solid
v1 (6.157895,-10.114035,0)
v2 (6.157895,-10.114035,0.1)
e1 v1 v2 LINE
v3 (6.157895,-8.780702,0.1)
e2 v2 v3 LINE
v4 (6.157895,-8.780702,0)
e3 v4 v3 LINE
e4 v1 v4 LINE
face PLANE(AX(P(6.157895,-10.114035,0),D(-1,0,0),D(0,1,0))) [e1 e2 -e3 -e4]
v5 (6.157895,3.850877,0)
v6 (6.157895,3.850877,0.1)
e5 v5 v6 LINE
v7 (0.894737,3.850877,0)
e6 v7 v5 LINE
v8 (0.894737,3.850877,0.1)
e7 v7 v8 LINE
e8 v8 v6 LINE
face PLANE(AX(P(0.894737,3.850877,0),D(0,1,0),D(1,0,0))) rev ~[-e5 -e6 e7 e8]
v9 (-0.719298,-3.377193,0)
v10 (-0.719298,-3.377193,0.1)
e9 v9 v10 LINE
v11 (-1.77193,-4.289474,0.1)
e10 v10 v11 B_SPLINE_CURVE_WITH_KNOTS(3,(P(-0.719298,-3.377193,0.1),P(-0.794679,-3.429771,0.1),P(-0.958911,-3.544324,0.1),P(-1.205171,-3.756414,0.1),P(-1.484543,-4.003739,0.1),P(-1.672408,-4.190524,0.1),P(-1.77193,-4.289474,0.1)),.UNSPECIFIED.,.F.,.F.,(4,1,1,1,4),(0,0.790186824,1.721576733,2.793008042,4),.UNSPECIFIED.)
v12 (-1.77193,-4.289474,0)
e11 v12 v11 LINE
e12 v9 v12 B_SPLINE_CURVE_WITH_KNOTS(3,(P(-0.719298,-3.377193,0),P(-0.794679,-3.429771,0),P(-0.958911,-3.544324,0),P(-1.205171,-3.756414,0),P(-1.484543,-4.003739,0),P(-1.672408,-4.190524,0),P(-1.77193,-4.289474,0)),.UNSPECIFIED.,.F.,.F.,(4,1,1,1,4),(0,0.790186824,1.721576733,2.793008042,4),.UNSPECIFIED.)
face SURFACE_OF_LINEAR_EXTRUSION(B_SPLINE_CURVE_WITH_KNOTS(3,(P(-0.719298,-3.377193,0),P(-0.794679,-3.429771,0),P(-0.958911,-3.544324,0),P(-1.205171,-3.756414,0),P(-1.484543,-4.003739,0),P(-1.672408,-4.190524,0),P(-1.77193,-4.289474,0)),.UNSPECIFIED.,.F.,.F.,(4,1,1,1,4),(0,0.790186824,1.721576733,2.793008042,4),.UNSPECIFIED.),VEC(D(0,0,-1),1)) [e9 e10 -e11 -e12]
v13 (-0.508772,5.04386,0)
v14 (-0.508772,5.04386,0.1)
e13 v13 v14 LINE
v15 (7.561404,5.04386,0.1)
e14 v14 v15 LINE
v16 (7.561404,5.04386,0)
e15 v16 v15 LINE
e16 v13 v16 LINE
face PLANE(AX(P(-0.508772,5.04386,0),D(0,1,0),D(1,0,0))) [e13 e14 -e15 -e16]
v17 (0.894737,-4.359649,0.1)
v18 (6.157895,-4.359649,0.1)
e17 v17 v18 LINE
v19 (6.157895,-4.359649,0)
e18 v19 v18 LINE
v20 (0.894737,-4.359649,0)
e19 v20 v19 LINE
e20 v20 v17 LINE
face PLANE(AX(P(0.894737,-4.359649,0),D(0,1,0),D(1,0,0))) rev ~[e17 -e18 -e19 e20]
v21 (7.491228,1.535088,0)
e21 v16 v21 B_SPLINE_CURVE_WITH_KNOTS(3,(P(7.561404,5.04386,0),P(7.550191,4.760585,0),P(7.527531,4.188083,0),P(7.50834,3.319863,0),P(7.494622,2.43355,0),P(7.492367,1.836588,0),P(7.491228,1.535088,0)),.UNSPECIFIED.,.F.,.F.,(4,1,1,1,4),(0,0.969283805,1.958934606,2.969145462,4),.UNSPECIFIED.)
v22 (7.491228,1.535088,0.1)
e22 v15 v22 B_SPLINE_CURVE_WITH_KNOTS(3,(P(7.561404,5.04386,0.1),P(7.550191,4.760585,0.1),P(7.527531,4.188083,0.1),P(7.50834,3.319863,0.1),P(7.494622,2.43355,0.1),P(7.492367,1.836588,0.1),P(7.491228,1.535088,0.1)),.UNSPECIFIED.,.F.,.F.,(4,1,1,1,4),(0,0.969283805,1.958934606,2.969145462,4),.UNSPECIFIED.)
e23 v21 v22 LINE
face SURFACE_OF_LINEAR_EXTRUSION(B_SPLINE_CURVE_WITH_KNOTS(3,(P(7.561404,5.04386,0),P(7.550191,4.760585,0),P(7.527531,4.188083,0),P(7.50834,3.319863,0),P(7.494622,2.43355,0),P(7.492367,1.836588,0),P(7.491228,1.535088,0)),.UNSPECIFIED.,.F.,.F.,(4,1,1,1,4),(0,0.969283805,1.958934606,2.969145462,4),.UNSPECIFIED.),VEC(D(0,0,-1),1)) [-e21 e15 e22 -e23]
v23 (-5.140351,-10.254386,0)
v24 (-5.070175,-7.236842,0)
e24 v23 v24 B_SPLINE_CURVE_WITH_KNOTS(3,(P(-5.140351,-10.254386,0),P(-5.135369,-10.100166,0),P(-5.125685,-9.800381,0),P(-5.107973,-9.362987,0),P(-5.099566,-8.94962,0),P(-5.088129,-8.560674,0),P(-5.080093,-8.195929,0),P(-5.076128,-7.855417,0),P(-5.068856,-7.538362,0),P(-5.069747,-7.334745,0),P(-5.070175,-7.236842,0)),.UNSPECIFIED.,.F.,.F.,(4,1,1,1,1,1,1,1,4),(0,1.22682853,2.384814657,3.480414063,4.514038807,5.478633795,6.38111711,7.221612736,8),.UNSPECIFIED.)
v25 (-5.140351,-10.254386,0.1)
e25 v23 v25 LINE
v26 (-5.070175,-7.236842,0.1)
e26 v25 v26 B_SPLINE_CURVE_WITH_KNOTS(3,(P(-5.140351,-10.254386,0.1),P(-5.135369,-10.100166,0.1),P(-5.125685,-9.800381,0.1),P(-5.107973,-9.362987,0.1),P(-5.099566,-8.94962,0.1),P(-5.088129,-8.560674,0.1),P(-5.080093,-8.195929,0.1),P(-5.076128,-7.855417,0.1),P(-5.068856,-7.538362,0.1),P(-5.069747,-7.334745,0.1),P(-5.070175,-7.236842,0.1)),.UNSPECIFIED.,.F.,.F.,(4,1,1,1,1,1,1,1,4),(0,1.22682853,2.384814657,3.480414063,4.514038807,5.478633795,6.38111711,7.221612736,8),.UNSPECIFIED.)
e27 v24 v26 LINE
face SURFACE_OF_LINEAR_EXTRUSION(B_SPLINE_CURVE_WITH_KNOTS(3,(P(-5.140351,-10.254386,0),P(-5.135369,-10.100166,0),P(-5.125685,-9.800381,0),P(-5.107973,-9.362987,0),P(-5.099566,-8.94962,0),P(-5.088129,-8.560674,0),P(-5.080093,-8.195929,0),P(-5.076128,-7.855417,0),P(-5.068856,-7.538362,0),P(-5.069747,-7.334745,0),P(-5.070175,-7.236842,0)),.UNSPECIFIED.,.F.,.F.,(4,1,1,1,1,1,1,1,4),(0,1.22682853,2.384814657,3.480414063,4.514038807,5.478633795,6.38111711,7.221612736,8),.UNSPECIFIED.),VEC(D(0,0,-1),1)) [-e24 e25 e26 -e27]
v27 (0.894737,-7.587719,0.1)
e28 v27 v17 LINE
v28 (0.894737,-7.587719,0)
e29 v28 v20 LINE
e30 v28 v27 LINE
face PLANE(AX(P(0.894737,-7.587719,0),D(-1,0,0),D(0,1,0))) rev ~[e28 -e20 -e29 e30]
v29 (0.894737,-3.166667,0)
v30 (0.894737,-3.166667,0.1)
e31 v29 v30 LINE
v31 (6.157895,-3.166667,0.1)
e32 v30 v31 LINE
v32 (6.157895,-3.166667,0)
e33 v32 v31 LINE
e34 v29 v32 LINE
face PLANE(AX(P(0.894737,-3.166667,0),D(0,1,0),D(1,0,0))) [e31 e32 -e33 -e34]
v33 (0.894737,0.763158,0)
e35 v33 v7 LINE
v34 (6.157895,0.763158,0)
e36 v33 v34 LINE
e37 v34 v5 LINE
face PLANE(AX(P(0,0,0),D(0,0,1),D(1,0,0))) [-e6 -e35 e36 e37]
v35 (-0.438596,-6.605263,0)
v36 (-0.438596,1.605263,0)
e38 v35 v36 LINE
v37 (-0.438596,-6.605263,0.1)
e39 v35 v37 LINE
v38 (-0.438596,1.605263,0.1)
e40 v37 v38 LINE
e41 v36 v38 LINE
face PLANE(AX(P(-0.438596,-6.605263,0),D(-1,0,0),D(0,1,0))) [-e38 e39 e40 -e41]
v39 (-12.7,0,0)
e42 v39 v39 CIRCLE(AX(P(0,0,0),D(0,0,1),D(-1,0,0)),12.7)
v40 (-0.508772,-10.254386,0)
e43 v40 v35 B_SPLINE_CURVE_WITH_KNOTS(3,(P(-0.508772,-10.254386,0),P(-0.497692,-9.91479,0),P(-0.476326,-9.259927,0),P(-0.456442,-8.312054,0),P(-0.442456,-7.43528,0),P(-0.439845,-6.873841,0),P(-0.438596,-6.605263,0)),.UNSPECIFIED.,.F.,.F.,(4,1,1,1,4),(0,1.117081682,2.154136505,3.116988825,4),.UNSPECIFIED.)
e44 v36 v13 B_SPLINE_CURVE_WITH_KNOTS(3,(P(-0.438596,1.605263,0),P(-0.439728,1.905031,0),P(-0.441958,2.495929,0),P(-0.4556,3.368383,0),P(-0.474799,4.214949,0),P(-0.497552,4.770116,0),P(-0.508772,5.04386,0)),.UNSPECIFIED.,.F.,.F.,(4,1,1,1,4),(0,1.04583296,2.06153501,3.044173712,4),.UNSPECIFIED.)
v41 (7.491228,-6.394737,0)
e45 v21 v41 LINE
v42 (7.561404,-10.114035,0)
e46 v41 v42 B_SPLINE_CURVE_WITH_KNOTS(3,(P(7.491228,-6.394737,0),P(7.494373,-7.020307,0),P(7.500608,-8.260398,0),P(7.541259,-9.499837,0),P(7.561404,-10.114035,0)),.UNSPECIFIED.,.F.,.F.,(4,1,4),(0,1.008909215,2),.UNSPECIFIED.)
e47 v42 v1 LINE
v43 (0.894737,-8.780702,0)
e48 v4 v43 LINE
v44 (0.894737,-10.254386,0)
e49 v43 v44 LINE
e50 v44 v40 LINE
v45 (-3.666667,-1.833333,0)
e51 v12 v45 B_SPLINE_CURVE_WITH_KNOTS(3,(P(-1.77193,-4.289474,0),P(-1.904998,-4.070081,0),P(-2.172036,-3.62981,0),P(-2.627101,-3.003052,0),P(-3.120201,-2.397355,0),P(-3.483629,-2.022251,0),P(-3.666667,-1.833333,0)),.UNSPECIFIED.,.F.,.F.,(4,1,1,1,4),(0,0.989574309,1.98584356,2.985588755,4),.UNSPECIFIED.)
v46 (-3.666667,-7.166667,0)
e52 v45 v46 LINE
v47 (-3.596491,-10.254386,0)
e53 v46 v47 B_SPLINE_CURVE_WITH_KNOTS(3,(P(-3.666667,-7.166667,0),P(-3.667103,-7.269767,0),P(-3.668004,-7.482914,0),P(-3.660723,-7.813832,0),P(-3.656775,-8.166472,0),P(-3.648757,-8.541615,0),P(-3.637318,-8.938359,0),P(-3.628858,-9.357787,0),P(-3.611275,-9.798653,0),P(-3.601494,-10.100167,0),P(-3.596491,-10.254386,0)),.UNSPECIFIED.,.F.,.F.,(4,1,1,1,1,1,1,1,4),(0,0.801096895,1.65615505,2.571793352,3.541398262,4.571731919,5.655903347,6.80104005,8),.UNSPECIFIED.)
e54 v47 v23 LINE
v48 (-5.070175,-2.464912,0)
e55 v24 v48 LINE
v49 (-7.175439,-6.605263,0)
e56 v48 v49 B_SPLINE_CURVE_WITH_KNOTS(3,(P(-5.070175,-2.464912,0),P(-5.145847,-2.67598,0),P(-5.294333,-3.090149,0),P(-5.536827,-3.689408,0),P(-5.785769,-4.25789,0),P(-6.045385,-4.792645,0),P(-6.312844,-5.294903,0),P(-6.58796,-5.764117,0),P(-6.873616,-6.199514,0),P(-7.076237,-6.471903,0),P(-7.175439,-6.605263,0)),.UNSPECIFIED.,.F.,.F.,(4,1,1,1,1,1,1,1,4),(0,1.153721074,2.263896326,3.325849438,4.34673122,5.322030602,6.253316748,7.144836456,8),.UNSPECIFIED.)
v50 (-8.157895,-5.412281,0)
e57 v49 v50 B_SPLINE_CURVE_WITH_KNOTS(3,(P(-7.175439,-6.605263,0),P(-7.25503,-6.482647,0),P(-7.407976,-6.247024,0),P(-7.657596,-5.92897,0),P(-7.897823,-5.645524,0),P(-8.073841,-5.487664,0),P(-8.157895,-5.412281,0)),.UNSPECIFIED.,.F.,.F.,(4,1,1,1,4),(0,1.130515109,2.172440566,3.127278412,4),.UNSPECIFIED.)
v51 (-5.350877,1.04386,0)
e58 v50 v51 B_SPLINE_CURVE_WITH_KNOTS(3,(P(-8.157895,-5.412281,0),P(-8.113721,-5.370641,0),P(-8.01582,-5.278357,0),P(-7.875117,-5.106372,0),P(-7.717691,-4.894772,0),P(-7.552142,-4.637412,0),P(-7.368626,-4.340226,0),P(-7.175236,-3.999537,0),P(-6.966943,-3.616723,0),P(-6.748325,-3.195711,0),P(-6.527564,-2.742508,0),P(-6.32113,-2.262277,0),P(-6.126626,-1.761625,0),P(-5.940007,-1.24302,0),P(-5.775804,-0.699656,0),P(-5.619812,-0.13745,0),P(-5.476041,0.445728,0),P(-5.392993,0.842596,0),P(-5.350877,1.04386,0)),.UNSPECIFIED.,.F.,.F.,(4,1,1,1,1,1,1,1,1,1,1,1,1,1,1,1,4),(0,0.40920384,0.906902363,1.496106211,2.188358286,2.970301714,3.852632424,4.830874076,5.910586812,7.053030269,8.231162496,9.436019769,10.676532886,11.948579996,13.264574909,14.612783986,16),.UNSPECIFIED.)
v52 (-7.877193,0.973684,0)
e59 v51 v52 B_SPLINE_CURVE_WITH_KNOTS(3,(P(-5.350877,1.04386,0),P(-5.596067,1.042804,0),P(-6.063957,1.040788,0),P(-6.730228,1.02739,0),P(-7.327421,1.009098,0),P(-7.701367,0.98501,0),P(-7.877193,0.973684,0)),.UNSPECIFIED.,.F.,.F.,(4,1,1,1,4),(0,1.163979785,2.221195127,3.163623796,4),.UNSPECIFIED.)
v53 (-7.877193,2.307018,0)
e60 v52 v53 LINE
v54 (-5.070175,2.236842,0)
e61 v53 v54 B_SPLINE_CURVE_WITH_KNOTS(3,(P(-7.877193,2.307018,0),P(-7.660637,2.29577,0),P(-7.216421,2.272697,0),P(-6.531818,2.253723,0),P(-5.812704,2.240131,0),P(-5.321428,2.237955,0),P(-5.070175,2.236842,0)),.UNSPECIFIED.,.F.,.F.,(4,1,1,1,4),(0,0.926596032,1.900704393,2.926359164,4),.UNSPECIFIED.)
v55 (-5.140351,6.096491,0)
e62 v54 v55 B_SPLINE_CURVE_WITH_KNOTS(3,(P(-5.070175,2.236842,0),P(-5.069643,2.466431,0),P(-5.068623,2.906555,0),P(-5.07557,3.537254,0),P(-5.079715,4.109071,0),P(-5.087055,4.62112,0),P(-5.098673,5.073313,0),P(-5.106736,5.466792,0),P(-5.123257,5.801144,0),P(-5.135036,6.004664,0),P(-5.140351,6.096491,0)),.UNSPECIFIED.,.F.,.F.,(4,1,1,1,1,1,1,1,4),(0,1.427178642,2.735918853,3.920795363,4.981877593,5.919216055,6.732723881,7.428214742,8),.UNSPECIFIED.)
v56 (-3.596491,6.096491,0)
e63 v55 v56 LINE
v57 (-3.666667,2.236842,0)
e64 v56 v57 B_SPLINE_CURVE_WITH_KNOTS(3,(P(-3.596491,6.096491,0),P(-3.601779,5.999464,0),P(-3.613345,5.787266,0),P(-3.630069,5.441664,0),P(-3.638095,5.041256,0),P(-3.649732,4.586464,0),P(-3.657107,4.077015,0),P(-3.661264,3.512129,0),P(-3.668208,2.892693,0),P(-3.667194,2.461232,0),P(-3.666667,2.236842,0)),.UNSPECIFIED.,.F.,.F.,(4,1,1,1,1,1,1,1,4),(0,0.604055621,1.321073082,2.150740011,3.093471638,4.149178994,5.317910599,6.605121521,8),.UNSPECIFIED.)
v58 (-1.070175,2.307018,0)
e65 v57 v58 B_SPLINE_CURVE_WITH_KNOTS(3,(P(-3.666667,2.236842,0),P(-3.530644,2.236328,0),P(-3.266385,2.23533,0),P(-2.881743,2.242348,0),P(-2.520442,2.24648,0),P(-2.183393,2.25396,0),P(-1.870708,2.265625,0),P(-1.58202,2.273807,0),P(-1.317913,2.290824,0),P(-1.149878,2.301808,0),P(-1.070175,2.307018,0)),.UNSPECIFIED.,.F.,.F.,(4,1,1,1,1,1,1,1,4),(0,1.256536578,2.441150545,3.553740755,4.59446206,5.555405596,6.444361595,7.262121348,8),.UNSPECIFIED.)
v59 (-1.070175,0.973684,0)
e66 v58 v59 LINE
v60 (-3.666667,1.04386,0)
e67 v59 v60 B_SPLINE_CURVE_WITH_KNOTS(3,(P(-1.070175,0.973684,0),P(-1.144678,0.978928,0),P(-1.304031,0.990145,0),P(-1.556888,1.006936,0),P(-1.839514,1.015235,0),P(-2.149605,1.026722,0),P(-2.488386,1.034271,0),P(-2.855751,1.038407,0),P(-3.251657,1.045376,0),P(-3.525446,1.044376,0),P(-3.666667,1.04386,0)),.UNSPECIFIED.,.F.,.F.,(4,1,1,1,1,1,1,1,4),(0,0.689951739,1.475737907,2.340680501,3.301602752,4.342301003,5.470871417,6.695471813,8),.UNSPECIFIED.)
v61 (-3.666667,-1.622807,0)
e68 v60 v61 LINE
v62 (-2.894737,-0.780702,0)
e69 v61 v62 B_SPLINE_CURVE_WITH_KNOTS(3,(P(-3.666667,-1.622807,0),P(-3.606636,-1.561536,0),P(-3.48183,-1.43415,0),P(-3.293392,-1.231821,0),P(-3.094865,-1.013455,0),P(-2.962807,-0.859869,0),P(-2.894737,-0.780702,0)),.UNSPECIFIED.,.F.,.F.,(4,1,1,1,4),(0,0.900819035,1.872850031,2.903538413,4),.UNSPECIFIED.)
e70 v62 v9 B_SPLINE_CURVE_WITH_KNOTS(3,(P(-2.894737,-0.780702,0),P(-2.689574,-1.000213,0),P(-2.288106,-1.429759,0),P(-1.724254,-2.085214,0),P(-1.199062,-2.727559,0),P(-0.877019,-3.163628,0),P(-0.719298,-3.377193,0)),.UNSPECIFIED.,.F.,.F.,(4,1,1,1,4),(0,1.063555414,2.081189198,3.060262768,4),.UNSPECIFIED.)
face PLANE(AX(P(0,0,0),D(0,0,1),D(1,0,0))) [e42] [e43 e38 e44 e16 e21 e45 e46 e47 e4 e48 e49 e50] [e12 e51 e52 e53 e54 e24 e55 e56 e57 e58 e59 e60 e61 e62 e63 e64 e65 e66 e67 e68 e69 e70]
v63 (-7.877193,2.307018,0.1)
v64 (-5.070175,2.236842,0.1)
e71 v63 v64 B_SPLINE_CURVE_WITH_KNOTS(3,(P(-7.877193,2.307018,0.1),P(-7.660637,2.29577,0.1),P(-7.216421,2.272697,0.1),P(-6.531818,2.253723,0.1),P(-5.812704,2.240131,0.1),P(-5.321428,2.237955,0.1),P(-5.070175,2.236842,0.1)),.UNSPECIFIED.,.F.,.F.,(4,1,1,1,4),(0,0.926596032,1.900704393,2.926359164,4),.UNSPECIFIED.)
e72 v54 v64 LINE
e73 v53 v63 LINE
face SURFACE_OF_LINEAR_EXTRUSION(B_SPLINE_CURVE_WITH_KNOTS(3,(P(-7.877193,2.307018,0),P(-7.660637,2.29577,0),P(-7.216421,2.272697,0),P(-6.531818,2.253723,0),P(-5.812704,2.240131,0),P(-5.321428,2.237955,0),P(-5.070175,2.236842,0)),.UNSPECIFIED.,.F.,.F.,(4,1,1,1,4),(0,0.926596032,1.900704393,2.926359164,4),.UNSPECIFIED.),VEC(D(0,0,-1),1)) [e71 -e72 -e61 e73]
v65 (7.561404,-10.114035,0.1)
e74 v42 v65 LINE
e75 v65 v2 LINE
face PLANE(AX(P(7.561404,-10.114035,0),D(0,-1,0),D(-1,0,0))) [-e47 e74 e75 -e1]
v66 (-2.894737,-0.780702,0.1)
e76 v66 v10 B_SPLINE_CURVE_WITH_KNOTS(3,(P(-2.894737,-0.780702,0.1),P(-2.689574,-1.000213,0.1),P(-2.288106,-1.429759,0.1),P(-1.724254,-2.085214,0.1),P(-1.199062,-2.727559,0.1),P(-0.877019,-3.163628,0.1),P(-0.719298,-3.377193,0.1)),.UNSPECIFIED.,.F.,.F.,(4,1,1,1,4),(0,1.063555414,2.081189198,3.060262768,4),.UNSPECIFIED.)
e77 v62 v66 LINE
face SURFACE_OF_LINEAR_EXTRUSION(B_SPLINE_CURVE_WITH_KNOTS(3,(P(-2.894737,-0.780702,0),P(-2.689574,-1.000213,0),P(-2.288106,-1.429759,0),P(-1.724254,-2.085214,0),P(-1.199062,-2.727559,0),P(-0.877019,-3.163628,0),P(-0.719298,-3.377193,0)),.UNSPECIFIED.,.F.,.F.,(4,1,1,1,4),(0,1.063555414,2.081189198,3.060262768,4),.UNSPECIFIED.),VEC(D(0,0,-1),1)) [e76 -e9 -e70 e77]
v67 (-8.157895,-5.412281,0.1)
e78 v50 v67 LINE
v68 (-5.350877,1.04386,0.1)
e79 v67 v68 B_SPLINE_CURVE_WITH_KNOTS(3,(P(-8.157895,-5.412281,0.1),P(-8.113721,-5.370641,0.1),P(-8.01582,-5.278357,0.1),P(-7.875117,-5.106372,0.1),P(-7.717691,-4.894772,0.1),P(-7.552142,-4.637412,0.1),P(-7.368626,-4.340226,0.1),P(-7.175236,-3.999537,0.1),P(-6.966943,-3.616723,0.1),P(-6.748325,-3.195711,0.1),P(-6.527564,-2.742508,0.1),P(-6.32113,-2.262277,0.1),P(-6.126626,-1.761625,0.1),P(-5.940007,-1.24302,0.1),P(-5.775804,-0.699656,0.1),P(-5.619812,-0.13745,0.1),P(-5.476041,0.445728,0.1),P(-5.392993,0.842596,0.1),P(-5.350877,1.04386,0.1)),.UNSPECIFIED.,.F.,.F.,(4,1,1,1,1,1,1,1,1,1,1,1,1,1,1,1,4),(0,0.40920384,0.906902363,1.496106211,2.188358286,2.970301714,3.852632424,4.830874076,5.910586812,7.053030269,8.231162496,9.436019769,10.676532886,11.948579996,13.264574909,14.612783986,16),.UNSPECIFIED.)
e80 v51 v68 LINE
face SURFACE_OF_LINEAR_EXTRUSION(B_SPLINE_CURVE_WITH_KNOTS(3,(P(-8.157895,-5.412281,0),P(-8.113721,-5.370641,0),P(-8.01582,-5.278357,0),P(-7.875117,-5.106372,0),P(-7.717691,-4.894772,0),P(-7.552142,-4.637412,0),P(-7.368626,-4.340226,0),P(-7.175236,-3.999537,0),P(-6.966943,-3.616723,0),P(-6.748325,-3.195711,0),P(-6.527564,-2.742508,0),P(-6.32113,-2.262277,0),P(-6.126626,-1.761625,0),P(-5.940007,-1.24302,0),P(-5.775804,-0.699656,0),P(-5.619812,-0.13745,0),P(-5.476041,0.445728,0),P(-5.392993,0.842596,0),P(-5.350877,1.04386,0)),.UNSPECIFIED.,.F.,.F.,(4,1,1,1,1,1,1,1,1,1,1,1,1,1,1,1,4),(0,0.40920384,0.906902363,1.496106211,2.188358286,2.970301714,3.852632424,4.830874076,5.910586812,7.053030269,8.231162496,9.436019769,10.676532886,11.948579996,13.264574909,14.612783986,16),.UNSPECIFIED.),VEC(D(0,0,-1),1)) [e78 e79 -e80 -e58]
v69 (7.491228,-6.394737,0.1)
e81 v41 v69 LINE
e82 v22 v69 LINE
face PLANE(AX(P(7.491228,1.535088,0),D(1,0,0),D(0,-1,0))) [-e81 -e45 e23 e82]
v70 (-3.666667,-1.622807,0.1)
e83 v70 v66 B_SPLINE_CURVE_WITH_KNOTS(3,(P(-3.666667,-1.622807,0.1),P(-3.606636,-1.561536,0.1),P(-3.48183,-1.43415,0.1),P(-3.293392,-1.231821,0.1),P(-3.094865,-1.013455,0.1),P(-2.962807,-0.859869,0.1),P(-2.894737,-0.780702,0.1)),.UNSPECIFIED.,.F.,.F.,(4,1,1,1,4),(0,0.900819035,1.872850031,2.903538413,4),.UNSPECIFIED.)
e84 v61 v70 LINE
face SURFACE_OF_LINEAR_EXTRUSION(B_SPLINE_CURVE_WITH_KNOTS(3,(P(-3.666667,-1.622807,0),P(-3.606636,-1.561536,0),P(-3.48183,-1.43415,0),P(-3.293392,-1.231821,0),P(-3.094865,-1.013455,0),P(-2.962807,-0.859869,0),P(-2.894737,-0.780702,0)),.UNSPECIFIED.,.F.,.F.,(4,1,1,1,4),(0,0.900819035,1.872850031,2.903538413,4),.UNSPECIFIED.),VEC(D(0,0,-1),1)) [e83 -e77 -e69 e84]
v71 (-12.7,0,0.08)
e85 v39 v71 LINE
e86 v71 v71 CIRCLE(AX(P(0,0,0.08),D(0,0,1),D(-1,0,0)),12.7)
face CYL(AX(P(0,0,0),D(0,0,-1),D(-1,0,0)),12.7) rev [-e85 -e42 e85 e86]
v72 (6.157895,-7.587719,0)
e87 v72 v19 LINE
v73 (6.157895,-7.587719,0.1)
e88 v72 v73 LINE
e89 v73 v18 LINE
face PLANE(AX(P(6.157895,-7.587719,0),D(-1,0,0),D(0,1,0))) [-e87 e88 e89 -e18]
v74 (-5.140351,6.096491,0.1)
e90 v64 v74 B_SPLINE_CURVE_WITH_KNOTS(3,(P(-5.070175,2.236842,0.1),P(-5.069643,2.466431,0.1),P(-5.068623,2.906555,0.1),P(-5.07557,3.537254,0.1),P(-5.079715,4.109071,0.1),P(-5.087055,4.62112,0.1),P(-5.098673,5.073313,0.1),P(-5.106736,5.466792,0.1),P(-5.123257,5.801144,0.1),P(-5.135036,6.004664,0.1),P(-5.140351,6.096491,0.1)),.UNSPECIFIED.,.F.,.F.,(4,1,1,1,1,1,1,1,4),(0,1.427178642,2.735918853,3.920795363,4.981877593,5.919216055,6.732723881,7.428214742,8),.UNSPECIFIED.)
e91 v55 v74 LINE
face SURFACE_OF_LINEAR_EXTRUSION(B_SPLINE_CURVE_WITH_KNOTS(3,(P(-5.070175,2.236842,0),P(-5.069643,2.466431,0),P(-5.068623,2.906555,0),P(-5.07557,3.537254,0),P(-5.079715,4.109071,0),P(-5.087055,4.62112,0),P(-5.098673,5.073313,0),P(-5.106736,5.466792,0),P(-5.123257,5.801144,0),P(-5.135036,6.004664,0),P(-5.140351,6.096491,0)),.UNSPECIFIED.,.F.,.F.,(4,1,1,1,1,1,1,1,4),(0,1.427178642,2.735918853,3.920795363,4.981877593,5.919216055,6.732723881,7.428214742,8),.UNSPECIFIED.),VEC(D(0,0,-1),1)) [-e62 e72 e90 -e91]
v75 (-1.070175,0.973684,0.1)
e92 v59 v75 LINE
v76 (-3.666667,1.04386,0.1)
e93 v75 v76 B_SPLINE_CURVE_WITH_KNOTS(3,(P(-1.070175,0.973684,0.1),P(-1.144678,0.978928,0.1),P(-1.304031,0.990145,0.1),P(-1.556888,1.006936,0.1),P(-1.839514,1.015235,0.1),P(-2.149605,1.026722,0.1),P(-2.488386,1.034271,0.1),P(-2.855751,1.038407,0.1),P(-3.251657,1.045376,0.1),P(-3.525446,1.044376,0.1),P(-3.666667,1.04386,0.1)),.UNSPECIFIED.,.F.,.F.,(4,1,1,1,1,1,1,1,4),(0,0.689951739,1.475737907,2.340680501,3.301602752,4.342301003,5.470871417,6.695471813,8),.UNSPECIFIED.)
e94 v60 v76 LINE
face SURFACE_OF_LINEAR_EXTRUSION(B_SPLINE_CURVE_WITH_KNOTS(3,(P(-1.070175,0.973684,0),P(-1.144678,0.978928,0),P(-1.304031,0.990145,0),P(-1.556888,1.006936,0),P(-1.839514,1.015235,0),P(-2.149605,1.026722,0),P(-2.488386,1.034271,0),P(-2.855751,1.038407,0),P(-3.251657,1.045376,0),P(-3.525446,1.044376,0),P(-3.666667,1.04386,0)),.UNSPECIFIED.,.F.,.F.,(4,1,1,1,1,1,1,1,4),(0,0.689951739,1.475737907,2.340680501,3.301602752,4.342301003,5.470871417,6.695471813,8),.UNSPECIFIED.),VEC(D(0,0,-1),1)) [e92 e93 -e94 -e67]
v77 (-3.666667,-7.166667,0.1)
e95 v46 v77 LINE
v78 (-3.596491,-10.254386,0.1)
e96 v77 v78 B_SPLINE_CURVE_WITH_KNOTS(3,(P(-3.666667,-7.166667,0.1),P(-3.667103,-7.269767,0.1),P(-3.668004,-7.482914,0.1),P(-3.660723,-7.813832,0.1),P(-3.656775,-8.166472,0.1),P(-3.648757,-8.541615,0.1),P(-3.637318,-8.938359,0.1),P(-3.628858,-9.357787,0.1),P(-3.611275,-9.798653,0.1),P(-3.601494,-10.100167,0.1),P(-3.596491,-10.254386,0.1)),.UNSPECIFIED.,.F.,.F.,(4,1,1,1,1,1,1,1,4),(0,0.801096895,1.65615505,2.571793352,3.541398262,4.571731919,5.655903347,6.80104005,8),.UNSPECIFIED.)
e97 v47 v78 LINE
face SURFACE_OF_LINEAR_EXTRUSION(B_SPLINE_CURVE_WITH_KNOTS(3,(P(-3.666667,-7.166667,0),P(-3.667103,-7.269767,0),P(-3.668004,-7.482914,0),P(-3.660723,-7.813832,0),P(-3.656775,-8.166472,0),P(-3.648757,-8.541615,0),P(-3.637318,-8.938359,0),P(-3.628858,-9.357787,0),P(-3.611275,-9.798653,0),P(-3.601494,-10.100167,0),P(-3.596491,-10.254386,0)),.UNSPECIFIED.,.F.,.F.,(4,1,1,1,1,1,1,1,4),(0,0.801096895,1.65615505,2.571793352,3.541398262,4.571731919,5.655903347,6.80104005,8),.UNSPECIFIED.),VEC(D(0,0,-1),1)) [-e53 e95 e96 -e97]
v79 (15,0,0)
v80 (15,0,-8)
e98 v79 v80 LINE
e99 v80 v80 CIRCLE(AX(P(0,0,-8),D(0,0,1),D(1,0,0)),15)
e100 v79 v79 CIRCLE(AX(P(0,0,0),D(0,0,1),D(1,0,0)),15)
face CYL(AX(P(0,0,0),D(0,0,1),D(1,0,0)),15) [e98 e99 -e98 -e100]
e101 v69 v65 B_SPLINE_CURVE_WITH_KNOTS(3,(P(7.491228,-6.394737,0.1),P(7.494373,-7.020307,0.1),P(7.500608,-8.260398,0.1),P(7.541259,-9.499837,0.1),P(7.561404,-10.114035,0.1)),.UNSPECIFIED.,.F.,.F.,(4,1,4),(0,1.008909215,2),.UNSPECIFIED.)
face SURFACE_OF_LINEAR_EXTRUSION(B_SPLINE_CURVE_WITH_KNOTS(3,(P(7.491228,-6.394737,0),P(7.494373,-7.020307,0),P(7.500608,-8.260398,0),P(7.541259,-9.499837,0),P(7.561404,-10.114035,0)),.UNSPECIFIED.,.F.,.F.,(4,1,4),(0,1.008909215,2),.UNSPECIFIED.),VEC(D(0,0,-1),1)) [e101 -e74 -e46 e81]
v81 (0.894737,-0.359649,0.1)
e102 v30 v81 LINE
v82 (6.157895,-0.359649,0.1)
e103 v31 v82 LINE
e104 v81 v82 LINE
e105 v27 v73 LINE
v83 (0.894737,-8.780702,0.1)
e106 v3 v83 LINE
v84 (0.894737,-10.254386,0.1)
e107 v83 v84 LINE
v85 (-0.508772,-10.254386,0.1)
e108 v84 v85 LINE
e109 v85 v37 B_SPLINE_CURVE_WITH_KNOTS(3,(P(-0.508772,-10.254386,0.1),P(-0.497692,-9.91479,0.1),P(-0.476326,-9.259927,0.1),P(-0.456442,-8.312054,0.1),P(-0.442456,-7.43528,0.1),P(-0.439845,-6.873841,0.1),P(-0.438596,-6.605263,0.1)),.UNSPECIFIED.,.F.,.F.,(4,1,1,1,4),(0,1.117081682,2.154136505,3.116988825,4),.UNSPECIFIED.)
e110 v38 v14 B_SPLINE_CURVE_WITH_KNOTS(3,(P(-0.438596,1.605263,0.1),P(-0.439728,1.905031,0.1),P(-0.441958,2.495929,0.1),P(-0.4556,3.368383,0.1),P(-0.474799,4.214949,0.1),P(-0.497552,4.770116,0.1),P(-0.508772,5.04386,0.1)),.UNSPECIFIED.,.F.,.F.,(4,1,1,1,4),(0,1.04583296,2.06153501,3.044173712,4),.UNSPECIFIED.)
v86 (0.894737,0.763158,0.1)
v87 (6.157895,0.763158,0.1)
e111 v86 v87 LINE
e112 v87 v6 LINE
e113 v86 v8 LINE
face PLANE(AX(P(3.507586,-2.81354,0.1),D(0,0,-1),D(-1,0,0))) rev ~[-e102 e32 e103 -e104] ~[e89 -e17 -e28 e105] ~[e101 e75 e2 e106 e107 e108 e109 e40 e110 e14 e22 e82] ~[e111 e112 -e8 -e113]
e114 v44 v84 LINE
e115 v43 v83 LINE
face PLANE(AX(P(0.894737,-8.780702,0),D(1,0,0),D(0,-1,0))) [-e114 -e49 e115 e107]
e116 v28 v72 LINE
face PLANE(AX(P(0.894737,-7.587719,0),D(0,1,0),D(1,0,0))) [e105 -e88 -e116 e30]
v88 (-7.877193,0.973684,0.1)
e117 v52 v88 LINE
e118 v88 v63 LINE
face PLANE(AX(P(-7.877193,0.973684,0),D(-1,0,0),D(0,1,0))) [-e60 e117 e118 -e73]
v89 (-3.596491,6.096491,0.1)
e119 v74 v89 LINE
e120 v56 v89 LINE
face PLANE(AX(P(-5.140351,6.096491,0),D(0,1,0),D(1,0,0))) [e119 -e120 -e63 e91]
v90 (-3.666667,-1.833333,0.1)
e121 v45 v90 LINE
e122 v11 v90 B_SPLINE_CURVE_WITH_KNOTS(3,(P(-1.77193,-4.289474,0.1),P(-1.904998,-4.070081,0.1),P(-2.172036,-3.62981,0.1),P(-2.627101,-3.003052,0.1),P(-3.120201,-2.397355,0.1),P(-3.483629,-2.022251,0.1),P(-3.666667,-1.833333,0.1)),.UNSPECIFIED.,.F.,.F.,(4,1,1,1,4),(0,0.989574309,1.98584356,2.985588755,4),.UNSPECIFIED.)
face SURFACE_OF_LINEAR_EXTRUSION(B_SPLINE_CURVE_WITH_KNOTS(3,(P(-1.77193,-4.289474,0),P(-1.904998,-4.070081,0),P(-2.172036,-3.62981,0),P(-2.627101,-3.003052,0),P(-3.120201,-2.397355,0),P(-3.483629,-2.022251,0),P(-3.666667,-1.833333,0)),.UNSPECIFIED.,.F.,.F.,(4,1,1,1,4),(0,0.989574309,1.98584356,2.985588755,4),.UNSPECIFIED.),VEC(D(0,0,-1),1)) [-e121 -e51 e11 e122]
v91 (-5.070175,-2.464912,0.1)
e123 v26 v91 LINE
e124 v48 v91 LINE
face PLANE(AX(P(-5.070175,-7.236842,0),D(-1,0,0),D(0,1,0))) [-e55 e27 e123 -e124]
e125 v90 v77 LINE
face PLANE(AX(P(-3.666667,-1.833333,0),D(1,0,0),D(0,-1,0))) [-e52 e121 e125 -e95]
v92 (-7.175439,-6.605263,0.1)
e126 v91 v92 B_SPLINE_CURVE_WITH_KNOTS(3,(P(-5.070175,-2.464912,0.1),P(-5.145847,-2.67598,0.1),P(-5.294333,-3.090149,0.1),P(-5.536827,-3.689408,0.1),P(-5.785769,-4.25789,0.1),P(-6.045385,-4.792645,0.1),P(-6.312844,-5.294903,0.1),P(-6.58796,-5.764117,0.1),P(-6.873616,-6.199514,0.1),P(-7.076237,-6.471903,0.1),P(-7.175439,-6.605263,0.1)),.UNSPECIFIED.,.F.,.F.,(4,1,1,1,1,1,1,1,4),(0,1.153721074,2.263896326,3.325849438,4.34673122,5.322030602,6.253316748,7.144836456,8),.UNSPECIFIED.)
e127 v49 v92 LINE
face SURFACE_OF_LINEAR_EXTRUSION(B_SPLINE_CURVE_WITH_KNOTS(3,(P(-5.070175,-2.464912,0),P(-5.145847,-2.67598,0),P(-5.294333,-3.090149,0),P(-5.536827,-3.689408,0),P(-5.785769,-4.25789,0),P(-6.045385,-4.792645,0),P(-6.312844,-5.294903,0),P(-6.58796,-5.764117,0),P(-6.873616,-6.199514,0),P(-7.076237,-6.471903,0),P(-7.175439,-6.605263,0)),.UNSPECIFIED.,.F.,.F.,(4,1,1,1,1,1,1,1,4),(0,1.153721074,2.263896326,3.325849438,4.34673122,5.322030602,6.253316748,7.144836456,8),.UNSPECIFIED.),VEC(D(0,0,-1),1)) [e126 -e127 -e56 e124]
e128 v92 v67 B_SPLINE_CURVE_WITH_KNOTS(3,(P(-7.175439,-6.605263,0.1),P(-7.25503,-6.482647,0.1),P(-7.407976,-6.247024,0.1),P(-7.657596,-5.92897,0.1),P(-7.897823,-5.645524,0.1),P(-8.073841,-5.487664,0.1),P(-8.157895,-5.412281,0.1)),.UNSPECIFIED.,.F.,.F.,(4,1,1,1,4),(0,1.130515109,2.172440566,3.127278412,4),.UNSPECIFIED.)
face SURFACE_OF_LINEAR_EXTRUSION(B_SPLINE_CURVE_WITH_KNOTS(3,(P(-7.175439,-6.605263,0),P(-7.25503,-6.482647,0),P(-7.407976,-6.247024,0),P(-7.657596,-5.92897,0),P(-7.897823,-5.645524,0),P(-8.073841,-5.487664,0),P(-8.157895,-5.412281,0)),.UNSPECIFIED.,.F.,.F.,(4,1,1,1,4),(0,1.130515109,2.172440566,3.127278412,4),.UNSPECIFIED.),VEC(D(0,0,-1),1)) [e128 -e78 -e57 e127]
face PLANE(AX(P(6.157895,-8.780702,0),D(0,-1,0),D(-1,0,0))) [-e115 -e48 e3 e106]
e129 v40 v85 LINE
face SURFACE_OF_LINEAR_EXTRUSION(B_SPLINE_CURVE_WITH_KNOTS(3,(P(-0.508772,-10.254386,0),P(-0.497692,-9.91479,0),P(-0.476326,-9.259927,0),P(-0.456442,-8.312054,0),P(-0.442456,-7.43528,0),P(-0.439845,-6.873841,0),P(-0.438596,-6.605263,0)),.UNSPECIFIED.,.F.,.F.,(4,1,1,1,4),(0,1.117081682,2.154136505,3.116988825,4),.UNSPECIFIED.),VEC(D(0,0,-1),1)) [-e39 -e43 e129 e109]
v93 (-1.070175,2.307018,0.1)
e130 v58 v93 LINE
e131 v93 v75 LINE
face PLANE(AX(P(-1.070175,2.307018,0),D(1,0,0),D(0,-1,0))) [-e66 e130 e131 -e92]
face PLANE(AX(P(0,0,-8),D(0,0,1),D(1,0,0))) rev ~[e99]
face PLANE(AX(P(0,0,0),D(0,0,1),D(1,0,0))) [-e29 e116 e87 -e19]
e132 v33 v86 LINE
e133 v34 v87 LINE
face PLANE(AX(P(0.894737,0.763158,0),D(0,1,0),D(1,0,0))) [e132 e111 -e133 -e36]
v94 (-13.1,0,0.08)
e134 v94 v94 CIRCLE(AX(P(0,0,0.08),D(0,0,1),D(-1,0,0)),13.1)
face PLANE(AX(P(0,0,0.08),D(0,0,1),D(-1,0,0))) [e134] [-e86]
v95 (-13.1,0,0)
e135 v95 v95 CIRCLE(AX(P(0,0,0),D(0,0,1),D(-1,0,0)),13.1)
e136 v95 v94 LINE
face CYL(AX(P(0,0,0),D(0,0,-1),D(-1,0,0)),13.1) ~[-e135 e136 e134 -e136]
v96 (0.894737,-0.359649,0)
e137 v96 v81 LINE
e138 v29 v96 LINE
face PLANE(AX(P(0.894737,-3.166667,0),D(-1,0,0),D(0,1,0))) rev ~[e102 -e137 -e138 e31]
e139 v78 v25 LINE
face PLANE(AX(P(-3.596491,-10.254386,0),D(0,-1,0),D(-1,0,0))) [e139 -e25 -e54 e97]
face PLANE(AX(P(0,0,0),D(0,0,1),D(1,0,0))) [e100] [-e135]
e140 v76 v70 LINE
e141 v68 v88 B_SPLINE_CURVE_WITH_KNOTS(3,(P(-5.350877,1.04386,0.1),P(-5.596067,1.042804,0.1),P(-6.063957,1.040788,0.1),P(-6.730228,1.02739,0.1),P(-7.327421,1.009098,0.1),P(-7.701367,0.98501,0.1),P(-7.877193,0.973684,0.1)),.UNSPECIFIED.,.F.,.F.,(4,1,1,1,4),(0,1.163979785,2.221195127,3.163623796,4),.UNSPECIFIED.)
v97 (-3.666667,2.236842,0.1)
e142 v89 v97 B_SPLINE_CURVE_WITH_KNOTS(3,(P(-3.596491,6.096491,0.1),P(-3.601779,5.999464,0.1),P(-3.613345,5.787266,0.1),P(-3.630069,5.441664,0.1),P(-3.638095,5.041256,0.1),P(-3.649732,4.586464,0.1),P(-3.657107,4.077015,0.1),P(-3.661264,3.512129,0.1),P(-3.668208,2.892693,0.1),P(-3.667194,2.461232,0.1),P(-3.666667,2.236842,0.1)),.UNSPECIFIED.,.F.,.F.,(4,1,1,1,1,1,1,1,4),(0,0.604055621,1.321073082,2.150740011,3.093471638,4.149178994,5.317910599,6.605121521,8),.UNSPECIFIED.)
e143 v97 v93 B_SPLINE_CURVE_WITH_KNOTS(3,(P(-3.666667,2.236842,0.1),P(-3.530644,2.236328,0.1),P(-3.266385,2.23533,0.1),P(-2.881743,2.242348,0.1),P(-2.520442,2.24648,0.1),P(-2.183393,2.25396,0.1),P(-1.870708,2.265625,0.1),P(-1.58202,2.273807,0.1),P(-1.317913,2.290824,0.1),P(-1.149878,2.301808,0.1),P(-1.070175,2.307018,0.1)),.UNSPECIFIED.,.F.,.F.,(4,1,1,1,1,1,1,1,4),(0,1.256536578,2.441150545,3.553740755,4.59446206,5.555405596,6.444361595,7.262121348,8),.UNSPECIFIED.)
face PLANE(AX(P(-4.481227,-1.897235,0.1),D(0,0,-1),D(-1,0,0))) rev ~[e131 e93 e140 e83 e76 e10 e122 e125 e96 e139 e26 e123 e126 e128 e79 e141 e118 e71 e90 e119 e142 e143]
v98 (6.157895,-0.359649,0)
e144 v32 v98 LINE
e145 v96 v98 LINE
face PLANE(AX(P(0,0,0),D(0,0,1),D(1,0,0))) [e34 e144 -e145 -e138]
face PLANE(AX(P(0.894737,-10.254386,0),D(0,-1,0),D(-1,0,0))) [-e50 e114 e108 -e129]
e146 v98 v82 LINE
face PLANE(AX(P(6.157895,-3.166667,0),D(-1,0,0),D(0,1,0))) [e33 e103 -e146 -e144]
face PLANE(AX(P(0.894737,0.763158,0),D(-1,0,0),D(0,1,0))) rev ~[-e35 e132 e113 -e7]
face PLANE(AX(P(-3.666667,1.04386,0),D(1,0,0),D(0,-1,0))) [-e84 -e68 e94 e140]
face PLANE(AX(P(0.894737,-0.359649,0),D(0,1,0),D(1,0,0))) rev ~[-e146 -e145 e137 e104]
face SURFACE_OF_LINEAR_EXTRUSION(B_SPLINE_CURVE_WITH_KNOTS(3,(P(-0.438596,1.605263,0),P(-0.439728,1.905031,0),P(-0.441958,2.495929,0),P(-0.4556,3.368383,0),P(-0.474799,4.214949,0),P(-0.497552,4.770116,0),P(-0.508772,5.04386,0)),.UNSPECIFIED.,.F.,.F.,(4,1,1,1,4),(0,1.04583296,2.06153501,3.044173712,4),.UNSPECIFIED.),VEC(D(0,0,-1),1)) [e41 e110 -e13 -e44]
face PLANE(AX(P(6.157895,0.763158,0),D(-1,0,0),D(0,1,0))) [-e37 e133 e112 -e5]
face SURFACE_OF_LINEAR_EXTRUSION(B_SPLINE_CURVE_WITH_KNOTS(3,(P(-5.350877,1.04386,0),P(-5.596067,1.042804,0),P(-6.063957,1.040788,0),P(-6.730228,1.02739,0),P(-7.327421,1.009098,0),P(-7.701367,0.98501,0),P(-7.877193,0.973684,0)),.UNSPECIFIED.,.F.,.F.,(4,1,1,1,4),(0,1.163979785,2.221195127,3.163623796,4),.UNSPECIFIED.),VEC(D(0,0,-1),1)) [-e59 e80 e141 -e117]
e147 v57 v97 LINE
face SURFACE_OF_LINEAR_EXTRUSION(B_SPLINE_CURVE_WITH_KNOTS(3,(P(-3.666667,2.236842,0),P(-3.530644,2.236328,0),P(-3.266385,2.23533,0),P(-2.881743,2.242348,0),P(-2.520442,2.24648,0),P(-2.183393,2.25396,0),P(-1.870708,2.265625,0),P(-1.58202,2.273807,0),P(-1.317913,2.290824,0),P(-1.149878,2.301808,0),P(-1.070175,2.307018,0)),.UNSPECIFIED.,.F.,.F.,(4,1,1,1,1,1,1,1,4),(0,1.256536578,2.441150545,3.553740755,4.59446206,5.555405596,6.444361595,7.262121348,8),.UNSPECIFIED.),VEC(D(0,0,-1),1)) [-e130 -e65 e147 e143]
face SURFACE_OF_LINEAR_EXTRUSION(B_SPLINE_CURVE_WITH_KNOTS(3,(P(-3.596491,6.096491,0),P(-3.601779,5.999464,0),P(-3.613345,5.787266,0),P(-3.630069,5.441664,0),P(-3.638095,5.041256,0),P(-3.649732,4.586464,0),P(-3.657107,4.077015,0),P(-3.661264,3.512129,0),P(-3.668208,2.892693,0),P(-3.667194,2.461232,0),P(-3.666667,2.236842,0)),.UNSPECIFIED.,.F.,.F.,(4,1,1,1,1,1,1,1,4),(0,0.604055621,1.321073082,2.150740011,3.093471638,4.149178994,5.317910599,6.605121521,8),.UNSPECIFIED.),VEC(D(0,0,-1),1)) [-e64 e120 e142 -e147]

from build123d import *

# Parameters (mm, degrees)
SKETCH_1_R               = 15
DIAMETER30_HEIGHT8_DEPTH = 8
SKETCH_2_W               = 5.263157895
SKETCH_2_H               = 3.228070175
SKETCH_2_H_2             = 3.087719298
SKETCH_2_H_3             = 2.807017544
CHARACTER_DEPTH          = 0.1
SKETCH_3_R               = 13.1
SKETCH_3_R_2             = 12.7
INK_RING_DEPTH           = 0.08


with BuildPart() as part:
    # 草图1 → Diameter30_Height8 (new body)
    with BuildSketch(Plane.XY):
        Circle(SKETCH_1_R)
    extrude(amount=-DIAMETER30_HEIGHT8_DEPTH)

    # 草图2 → Character_相 (add)
    # profile 1 of 2: a face of its own
    with BuildSketch(Plane.XY):
        with BuildLine():
            add(Edge.make_bspline(
                [(7.561403509, 5.043859649), (7.55019112, 4.760584697), (7.527530744, 4.188082503), (7.508340227, 3.319863454), (7.49462205, 2.433550242), (7.492367, 1.83658782), (7.49122807, 1.535087719)],
                knots=[0, 0, 0, 0, 0.969283805, 1.958934606, 2.969145462, 4, 4, 4, 4], degree=3))
            Line((7.49122807, 1.535087719), (7.49122807, -6.394736842))
            add(Edge.make_bspline(
                [(7.49122807, -6.394736842), (7.494373274, -7.020306568), (7.500608133, -8.260397781), (7.541259106, -9.499836795), (7.561403509, -10.114035088)],
                knots=[0, 0, 0, 0, 1.008909215, 2, 2, 2, 2], degree=3))
            Line((7.561403509, -10.114035088), (6.157894737, -10.114035088))
            Line((6.157894737, -10.114035088), (6.157894737, -8.780701754))
            Line((6.157894737, -8.780701754), (0.894736842, -8.780701754))
            Line((0.894736842, -8.780701754), (0.894736842, -10.254385965))
            Line((0.894736842, -10.254385965), (-0.50877193, -10.254385965))
            add(Edge.make_bspline(
                [(-0.50877193, -10.254385965), (-0.497692205, -9.914790058), (-0.476326497, -9.259926631), (-0.456441705, -8.312053821), (-0.44245572, -7.435279895), (-0.439845263, -6.873840554), (-0.438596491, -6.605263158)],
                knots=[0, 0, 0, 0, 1.117081682, 2.154136505, 3.116988825, 4, 4, 4, 4], degree=3))
            Line((-0.438596491, -6.605263158), (-0.438596491, 1.605263158))
            add(Edge.make_bspline(
                [(-0.438596491, 1.605263158), (-0.439728026, 1.905030661), (-0.441958496, 2.495929231), (-0.45560045, 3.368382891), (-0.474798879, 4.214949159), (-0.497552487, 4.770115799), (-0.50877193, 5.043859649)],
                knots=[0, 0, 0, 0, 1.04583296, 2.06153501, 3.044173712, 4, 4, 4, 4], degree=3))
            Line((-0.50877193, 5.043859649), (7.561403509, 5.043859649))
        make_face()
        with Locations((3.52631579, -5.973684211)):
            Rectangle(SKETCH_2_W, SKETCH_2_H, mode=Mode.SUBTRACT)
        with Locations((3.52631579, 2.307017544)):
            Rectangle(SKETCH_2_W, SKETCH_2_H_2, mode=Mode.SUBTRACT)
        with Locations((3.52631579, -1.763157895)):
            Rectangle(SKETCH_2_W, SKETCH_2_H_3, mode=Mode.SUBTRACT)
    # profile 2 of 2: a face of its own
    with BuildSketch(Plane.XY):
        with BuildLine():
            add(Edge.make_bspline(
                [(-5.070175439, 2.236842105), (-5.069643134, 2.466430588), (-5.068622699, 2.906554508), (-5.075570455, 3.53725376), (-5.079714917, 4.10907054), (-5.087055031, 4.62111986), (-5.098673186, 5.0733128), (-5.106736303, 5.466792434), (-5.12325681, 5.801143721), (-5.135036136, 6.004664303), (-5.140350877, 6.096491228)],
                knots=[0, 0, 0, 0, 1.427178642, 2.735918853, 3.920795363, 4.981877593, 5.919216055, 6.732723881, 7.428214742, 8, 8, 8, 8], degree=3))
            Line((-5.140350877, 6.096491228), (-3.596491228, 6.096491228))
            add(Edge.make_bspline(
                [(-3.596491228, 6.096491228), (-3.601779492, 5.999464476), (-3.613344956, 5.787266417), (-3.630069425, 5.441663603), (-3.638095211, 5.041255673), (-3.649732329, 4.586464135), (-3.657106974, 4.077015184), (-3.661264203, 3.512129116), (-3.668208495, 2.892692888), (-3.667194182, 2.461232429), (-3.666666667, 2.236842105)],
                knots=[0, 0, 0, 0, 0.604055621, 1.321073082, 2.150740011, 3.093471638, 4.149178994, 5.317910599, 6.605121521, 8, 8, 8, 8], degree=3))
            add(Edge.make_bspline(
                [(-3.666666667, 2.236842105), (-3.530644111, 2.236328112), (-3.266384763, 2.235329545), (-2.88174296, 2.242348317), (-2.520442081, 2.246480446), (-2.183393026, 2.253960205), (-1.870707533, 2.265624871), (-1.582020196, 2.273807132), (-1.317912922, 2.290824228), (-1.149878443, 2.301807771), (-1.070175439, 2.307017544)],
                knots=[0, 0, 0, 0, 1.256536578, 2.441150545, 3.553740755, 4.59446206, 5.555405596, 6.444361595, 7.262121348, 8, 8, 8, 8], degree=3))
            Line((-1.070175439, 2.307017544), (-1.070175439, 0.973684211))
            add(Edge.make_bspline(
                [(-1.070175439, 0.973684211), (-1.144677854, 0.978928331), (-1.304031085, 0.990144981), (-1.556887974, 1.006935749), (-1.839513589, 1.015234756), (-2.149605268, 1.026721716), (-2.488385884, 1.034270902), (-2.855751381, 1.03840672), (-3.251657288, 1.045376401), (-3.525446035, 1.044375774), (-3.666666667, 1.043859649)],
                knots=[0, 0, 0, 0, 0.689951739, 1.475737907, 2.340680501, 3.301602752, 4.342301003, 5.470871417, 6.695471813, 8, 8, 8, 8], degree=3))
            Line((-3.666666667, 1.043859649), (-3.666666667, -1.622807018))
            add(Edge.make_bspline(
                [(-3.666666667, -1.622807018), (-3.606636203, -1.561535904), (-3.48182972, -1.434150045), (-3.293392102, -1.23182095), (-3.094864807, -1.013455465), (-2.962807273, -0.859869327), (-2.894736842, -0.780701754)],
                knots=[0, 0, 0, 0, 0.900819035, 1.872850031, 2.903538413, 4, 4, 4, 4], degree=3))
            add(Edge.make_bspline(
                [(-2.894736842, -0.780701754), (-2.689573637, -1.00021337), (-2.288105654, -1.429758644), (-1.724253911, -2.085214095), (-1.199061827, -2.727559357), (-0.877018772, -3.163628299), (-0.719298246, -3.377192982)],
                knots=[0, 0, 0, 0, 1.063555414, 2.081189198, 3.060262768, 4, 4, 4, 4], degree=3))
            add(Edge.make_bspline(
                [(-0.719298246, -3.377192982), (-0.794679109, -3.429771468), (-0.958911081, -3.544323996), (-1.205171009, -3.756414434), (-1.484543132, -4.003739185), (-1.672408418, -4.190524428), (-1.771929825, -4.289473684)],
                knots=[0, 0, 0, 0, 0.790186824, 1.721576733, 2.793008042, 4, 4, 4, 4], degree=3))
            add(Edge.make_bspline(
                [(-1.771929825, -4.289473684), (-1.904998341, -4.0700807), (-2.172035646, -3.629810433), (-2.627101337, -3.003052442), (-3.120200979, -2.3973547), (-3.483629338, -2.022250893), (-3.666666667, -1.833333333)],
                knots=[0, 0, 0, 0, 0.989574309, 1.98584356, 2.985588755, 4, 4, 4, 4], degree=3))
            Line((-3.666666667, -1.833333333), (-3.666666667, -7.166666667))
            add(Edge.make_bspline(
                [(-3.666666667, -7.166666667), (-3.66710265, -7.269767462), (-3.668003985, -7.48291384), (-3.66072287, -7.813831844), (-3.656774838, -8.166472041), (-3.648756785, -8.54161481), (-3.637317912, -8.938358747), (-3.628857904, -9.357787252), (-3.611274705, -9.798652569), (-3.601493913, -10.100167122), (-3.596491228, -10.254385965)],
                knots=[0, 0, 0, 0, 0.801096895, 1.65615505, 2.571793352, 3.541398262, 4.571731919, 5.655903347, 6.80104005, 8, 8, 8, 8], degree=3))
            Line((-3.596491228, -10.254385965), (-5.140350877, -10.254385965))
            add(Edge.make_bspline(
                [(-5.140350877, -10.254385965), (-5.135369022, -10.10016635), (-5.125684865, -9.80038102), (-5.107972861, -9.362986873), (-5.099566341, -8.949620037), (-5.088128806, -8.560674404), (-5.080093207, -8.195928707), (-5.076127742, -7.855416847), (-5.068855811, -7.538361954), (-5.069746959, -7.334744801), (-5.070175439, -7.236842105)],
                knots=[0, 0, 0, 0, 1.22682853, 2.384814657, 3.480414063, 4.514038807, 5.478633795, 6.38111711, 7.221612736, 8, 8, 8, 8], degree=3))
            Line((-5.070175439, -7.236842105), (-5.070175439, -2.464912281))
            add(Edge.make_bspline(
                [(-5.070175439, -2.464912281), (-5.145846519, -2.675980137), (-5.294332566, -3.090149346), (-5.536827031, -3.689408015), (-5.785768752, -4.257890313), (-6.045384746, -4.792645481), (-6.312844256, -5.294903161), (-6.587960306, -5.764116531), (-6.873615691, -6.199513832), (-7.076236773, -6.471903257), (-7.175438596, -6.605263158)],
                knots=[0, 0, 0, 0, 1.153721074, 2.263896326, 3.325849438, 4.34673122, 5.322030602, 6.253316748, 7.144836456, 8, 8, 8, 8], degree=3))
            add(Edge.make_bspline(
                [(-7.175438596, -6.605263158), (-7.255029914, -6.482647166), (-7.407975598, -6.247023641), (-7.657596365, -5.928969858), (-7.897823334, -5.645524257), (-8.073840549, -5.487664221), (-8.157894737, -5.412280702)],
                knots=[0, 0, 0, 0, 1.130515109, 2.172440566, 3.127278412, 4, 4, 4, 4], degree=3))
            add(Edge.make_bspline(
                [(-8.157894737, -5.412280702), (-8.113720781, -5.370641152), (-8.01581978, -5.278357058), (-7.875116797, -5.106371966), (-7.717691149, -4.894771662), (-7.55214221, -4.637411783), (-7.368626266, -4.340225536), (-7.17523642, -3.999537296), (-6.966943261, -3.616722912), (-6.748324508, -3.195711401), (-6.527564492, -2.742508267), (-6.321130463, -2.262276924), (-6.126625974, -1.76162537), (-5.940007338, -1.243020266), (-5.775804486, -0.699655792), (-5.619811727, -0.137450112), (-5.476041057, 0.445727539), (-5.392993233, 0.842595842), (-5.350877193, 1.043859649)],
                knots=[0, 0, 0, 0, 0.40920384, 0.906902363, 1.496106211, 2.188358286, 2.970301714, 3.852632424, 4.830874076, 5.910586812, 7.053030269, 8.231162496, 9.436019769, 10.676532886, 11.948579996, 13.264574909, 14.612783986, 16, 16, 16, 16], degree=3))
            add(Edge.make_bspline(
                [(-5.350877193, 1.043859649), (-5.59606702, 1.042803509), (-6.063956973, 1.040788102), (-6.730227869, 1.027390075), (-7.327421009, 1.009098406), (-7.701367224, 0.985010229), (-7.877192982, 0.973684211)],
                knots=[0, 0, 0, 0, 1.163979785, 2.221195127, 3.163623796, 4, 4, 4, 4], degree=3))
            Line((-7.877192982, 0.973684211), (-7.877192982, 2.307017544))
            add(Edge.make_bspline(
                [(-7.877192982, 2.307017544), (-7.660637158, 2.295769666), (-7.216421348, 2.272697163), (-6.531817674, 2.253723458), (-5.812703734, 2.240131437), (-5.321428092, 2.237955131), (-5.070175439, 2.236842105)],
                knots=[0, 0, 0, 0, 0.926596032, 1.900704393, 2.926359164, 4, 4, 4, 4], degree=3))
        make_face()
    extrude(amount=CHARACTER_DEPTH)

    # 草图3 → Ink_ring (add)
    with BuildSketch(Plane.XY):
        with Locations(Location((0, 0, 0), (0, 0, 180))):
            Circle(SKETCH_3_R)
        with Locations(Location((0, 0, 0), (0, 0, 180))):
            Circle(SKETCH_3_R_2, mode=Mode.SUBTRACT)
    extrude(amount=INK_RING_DEPTH)


solid = part.part
